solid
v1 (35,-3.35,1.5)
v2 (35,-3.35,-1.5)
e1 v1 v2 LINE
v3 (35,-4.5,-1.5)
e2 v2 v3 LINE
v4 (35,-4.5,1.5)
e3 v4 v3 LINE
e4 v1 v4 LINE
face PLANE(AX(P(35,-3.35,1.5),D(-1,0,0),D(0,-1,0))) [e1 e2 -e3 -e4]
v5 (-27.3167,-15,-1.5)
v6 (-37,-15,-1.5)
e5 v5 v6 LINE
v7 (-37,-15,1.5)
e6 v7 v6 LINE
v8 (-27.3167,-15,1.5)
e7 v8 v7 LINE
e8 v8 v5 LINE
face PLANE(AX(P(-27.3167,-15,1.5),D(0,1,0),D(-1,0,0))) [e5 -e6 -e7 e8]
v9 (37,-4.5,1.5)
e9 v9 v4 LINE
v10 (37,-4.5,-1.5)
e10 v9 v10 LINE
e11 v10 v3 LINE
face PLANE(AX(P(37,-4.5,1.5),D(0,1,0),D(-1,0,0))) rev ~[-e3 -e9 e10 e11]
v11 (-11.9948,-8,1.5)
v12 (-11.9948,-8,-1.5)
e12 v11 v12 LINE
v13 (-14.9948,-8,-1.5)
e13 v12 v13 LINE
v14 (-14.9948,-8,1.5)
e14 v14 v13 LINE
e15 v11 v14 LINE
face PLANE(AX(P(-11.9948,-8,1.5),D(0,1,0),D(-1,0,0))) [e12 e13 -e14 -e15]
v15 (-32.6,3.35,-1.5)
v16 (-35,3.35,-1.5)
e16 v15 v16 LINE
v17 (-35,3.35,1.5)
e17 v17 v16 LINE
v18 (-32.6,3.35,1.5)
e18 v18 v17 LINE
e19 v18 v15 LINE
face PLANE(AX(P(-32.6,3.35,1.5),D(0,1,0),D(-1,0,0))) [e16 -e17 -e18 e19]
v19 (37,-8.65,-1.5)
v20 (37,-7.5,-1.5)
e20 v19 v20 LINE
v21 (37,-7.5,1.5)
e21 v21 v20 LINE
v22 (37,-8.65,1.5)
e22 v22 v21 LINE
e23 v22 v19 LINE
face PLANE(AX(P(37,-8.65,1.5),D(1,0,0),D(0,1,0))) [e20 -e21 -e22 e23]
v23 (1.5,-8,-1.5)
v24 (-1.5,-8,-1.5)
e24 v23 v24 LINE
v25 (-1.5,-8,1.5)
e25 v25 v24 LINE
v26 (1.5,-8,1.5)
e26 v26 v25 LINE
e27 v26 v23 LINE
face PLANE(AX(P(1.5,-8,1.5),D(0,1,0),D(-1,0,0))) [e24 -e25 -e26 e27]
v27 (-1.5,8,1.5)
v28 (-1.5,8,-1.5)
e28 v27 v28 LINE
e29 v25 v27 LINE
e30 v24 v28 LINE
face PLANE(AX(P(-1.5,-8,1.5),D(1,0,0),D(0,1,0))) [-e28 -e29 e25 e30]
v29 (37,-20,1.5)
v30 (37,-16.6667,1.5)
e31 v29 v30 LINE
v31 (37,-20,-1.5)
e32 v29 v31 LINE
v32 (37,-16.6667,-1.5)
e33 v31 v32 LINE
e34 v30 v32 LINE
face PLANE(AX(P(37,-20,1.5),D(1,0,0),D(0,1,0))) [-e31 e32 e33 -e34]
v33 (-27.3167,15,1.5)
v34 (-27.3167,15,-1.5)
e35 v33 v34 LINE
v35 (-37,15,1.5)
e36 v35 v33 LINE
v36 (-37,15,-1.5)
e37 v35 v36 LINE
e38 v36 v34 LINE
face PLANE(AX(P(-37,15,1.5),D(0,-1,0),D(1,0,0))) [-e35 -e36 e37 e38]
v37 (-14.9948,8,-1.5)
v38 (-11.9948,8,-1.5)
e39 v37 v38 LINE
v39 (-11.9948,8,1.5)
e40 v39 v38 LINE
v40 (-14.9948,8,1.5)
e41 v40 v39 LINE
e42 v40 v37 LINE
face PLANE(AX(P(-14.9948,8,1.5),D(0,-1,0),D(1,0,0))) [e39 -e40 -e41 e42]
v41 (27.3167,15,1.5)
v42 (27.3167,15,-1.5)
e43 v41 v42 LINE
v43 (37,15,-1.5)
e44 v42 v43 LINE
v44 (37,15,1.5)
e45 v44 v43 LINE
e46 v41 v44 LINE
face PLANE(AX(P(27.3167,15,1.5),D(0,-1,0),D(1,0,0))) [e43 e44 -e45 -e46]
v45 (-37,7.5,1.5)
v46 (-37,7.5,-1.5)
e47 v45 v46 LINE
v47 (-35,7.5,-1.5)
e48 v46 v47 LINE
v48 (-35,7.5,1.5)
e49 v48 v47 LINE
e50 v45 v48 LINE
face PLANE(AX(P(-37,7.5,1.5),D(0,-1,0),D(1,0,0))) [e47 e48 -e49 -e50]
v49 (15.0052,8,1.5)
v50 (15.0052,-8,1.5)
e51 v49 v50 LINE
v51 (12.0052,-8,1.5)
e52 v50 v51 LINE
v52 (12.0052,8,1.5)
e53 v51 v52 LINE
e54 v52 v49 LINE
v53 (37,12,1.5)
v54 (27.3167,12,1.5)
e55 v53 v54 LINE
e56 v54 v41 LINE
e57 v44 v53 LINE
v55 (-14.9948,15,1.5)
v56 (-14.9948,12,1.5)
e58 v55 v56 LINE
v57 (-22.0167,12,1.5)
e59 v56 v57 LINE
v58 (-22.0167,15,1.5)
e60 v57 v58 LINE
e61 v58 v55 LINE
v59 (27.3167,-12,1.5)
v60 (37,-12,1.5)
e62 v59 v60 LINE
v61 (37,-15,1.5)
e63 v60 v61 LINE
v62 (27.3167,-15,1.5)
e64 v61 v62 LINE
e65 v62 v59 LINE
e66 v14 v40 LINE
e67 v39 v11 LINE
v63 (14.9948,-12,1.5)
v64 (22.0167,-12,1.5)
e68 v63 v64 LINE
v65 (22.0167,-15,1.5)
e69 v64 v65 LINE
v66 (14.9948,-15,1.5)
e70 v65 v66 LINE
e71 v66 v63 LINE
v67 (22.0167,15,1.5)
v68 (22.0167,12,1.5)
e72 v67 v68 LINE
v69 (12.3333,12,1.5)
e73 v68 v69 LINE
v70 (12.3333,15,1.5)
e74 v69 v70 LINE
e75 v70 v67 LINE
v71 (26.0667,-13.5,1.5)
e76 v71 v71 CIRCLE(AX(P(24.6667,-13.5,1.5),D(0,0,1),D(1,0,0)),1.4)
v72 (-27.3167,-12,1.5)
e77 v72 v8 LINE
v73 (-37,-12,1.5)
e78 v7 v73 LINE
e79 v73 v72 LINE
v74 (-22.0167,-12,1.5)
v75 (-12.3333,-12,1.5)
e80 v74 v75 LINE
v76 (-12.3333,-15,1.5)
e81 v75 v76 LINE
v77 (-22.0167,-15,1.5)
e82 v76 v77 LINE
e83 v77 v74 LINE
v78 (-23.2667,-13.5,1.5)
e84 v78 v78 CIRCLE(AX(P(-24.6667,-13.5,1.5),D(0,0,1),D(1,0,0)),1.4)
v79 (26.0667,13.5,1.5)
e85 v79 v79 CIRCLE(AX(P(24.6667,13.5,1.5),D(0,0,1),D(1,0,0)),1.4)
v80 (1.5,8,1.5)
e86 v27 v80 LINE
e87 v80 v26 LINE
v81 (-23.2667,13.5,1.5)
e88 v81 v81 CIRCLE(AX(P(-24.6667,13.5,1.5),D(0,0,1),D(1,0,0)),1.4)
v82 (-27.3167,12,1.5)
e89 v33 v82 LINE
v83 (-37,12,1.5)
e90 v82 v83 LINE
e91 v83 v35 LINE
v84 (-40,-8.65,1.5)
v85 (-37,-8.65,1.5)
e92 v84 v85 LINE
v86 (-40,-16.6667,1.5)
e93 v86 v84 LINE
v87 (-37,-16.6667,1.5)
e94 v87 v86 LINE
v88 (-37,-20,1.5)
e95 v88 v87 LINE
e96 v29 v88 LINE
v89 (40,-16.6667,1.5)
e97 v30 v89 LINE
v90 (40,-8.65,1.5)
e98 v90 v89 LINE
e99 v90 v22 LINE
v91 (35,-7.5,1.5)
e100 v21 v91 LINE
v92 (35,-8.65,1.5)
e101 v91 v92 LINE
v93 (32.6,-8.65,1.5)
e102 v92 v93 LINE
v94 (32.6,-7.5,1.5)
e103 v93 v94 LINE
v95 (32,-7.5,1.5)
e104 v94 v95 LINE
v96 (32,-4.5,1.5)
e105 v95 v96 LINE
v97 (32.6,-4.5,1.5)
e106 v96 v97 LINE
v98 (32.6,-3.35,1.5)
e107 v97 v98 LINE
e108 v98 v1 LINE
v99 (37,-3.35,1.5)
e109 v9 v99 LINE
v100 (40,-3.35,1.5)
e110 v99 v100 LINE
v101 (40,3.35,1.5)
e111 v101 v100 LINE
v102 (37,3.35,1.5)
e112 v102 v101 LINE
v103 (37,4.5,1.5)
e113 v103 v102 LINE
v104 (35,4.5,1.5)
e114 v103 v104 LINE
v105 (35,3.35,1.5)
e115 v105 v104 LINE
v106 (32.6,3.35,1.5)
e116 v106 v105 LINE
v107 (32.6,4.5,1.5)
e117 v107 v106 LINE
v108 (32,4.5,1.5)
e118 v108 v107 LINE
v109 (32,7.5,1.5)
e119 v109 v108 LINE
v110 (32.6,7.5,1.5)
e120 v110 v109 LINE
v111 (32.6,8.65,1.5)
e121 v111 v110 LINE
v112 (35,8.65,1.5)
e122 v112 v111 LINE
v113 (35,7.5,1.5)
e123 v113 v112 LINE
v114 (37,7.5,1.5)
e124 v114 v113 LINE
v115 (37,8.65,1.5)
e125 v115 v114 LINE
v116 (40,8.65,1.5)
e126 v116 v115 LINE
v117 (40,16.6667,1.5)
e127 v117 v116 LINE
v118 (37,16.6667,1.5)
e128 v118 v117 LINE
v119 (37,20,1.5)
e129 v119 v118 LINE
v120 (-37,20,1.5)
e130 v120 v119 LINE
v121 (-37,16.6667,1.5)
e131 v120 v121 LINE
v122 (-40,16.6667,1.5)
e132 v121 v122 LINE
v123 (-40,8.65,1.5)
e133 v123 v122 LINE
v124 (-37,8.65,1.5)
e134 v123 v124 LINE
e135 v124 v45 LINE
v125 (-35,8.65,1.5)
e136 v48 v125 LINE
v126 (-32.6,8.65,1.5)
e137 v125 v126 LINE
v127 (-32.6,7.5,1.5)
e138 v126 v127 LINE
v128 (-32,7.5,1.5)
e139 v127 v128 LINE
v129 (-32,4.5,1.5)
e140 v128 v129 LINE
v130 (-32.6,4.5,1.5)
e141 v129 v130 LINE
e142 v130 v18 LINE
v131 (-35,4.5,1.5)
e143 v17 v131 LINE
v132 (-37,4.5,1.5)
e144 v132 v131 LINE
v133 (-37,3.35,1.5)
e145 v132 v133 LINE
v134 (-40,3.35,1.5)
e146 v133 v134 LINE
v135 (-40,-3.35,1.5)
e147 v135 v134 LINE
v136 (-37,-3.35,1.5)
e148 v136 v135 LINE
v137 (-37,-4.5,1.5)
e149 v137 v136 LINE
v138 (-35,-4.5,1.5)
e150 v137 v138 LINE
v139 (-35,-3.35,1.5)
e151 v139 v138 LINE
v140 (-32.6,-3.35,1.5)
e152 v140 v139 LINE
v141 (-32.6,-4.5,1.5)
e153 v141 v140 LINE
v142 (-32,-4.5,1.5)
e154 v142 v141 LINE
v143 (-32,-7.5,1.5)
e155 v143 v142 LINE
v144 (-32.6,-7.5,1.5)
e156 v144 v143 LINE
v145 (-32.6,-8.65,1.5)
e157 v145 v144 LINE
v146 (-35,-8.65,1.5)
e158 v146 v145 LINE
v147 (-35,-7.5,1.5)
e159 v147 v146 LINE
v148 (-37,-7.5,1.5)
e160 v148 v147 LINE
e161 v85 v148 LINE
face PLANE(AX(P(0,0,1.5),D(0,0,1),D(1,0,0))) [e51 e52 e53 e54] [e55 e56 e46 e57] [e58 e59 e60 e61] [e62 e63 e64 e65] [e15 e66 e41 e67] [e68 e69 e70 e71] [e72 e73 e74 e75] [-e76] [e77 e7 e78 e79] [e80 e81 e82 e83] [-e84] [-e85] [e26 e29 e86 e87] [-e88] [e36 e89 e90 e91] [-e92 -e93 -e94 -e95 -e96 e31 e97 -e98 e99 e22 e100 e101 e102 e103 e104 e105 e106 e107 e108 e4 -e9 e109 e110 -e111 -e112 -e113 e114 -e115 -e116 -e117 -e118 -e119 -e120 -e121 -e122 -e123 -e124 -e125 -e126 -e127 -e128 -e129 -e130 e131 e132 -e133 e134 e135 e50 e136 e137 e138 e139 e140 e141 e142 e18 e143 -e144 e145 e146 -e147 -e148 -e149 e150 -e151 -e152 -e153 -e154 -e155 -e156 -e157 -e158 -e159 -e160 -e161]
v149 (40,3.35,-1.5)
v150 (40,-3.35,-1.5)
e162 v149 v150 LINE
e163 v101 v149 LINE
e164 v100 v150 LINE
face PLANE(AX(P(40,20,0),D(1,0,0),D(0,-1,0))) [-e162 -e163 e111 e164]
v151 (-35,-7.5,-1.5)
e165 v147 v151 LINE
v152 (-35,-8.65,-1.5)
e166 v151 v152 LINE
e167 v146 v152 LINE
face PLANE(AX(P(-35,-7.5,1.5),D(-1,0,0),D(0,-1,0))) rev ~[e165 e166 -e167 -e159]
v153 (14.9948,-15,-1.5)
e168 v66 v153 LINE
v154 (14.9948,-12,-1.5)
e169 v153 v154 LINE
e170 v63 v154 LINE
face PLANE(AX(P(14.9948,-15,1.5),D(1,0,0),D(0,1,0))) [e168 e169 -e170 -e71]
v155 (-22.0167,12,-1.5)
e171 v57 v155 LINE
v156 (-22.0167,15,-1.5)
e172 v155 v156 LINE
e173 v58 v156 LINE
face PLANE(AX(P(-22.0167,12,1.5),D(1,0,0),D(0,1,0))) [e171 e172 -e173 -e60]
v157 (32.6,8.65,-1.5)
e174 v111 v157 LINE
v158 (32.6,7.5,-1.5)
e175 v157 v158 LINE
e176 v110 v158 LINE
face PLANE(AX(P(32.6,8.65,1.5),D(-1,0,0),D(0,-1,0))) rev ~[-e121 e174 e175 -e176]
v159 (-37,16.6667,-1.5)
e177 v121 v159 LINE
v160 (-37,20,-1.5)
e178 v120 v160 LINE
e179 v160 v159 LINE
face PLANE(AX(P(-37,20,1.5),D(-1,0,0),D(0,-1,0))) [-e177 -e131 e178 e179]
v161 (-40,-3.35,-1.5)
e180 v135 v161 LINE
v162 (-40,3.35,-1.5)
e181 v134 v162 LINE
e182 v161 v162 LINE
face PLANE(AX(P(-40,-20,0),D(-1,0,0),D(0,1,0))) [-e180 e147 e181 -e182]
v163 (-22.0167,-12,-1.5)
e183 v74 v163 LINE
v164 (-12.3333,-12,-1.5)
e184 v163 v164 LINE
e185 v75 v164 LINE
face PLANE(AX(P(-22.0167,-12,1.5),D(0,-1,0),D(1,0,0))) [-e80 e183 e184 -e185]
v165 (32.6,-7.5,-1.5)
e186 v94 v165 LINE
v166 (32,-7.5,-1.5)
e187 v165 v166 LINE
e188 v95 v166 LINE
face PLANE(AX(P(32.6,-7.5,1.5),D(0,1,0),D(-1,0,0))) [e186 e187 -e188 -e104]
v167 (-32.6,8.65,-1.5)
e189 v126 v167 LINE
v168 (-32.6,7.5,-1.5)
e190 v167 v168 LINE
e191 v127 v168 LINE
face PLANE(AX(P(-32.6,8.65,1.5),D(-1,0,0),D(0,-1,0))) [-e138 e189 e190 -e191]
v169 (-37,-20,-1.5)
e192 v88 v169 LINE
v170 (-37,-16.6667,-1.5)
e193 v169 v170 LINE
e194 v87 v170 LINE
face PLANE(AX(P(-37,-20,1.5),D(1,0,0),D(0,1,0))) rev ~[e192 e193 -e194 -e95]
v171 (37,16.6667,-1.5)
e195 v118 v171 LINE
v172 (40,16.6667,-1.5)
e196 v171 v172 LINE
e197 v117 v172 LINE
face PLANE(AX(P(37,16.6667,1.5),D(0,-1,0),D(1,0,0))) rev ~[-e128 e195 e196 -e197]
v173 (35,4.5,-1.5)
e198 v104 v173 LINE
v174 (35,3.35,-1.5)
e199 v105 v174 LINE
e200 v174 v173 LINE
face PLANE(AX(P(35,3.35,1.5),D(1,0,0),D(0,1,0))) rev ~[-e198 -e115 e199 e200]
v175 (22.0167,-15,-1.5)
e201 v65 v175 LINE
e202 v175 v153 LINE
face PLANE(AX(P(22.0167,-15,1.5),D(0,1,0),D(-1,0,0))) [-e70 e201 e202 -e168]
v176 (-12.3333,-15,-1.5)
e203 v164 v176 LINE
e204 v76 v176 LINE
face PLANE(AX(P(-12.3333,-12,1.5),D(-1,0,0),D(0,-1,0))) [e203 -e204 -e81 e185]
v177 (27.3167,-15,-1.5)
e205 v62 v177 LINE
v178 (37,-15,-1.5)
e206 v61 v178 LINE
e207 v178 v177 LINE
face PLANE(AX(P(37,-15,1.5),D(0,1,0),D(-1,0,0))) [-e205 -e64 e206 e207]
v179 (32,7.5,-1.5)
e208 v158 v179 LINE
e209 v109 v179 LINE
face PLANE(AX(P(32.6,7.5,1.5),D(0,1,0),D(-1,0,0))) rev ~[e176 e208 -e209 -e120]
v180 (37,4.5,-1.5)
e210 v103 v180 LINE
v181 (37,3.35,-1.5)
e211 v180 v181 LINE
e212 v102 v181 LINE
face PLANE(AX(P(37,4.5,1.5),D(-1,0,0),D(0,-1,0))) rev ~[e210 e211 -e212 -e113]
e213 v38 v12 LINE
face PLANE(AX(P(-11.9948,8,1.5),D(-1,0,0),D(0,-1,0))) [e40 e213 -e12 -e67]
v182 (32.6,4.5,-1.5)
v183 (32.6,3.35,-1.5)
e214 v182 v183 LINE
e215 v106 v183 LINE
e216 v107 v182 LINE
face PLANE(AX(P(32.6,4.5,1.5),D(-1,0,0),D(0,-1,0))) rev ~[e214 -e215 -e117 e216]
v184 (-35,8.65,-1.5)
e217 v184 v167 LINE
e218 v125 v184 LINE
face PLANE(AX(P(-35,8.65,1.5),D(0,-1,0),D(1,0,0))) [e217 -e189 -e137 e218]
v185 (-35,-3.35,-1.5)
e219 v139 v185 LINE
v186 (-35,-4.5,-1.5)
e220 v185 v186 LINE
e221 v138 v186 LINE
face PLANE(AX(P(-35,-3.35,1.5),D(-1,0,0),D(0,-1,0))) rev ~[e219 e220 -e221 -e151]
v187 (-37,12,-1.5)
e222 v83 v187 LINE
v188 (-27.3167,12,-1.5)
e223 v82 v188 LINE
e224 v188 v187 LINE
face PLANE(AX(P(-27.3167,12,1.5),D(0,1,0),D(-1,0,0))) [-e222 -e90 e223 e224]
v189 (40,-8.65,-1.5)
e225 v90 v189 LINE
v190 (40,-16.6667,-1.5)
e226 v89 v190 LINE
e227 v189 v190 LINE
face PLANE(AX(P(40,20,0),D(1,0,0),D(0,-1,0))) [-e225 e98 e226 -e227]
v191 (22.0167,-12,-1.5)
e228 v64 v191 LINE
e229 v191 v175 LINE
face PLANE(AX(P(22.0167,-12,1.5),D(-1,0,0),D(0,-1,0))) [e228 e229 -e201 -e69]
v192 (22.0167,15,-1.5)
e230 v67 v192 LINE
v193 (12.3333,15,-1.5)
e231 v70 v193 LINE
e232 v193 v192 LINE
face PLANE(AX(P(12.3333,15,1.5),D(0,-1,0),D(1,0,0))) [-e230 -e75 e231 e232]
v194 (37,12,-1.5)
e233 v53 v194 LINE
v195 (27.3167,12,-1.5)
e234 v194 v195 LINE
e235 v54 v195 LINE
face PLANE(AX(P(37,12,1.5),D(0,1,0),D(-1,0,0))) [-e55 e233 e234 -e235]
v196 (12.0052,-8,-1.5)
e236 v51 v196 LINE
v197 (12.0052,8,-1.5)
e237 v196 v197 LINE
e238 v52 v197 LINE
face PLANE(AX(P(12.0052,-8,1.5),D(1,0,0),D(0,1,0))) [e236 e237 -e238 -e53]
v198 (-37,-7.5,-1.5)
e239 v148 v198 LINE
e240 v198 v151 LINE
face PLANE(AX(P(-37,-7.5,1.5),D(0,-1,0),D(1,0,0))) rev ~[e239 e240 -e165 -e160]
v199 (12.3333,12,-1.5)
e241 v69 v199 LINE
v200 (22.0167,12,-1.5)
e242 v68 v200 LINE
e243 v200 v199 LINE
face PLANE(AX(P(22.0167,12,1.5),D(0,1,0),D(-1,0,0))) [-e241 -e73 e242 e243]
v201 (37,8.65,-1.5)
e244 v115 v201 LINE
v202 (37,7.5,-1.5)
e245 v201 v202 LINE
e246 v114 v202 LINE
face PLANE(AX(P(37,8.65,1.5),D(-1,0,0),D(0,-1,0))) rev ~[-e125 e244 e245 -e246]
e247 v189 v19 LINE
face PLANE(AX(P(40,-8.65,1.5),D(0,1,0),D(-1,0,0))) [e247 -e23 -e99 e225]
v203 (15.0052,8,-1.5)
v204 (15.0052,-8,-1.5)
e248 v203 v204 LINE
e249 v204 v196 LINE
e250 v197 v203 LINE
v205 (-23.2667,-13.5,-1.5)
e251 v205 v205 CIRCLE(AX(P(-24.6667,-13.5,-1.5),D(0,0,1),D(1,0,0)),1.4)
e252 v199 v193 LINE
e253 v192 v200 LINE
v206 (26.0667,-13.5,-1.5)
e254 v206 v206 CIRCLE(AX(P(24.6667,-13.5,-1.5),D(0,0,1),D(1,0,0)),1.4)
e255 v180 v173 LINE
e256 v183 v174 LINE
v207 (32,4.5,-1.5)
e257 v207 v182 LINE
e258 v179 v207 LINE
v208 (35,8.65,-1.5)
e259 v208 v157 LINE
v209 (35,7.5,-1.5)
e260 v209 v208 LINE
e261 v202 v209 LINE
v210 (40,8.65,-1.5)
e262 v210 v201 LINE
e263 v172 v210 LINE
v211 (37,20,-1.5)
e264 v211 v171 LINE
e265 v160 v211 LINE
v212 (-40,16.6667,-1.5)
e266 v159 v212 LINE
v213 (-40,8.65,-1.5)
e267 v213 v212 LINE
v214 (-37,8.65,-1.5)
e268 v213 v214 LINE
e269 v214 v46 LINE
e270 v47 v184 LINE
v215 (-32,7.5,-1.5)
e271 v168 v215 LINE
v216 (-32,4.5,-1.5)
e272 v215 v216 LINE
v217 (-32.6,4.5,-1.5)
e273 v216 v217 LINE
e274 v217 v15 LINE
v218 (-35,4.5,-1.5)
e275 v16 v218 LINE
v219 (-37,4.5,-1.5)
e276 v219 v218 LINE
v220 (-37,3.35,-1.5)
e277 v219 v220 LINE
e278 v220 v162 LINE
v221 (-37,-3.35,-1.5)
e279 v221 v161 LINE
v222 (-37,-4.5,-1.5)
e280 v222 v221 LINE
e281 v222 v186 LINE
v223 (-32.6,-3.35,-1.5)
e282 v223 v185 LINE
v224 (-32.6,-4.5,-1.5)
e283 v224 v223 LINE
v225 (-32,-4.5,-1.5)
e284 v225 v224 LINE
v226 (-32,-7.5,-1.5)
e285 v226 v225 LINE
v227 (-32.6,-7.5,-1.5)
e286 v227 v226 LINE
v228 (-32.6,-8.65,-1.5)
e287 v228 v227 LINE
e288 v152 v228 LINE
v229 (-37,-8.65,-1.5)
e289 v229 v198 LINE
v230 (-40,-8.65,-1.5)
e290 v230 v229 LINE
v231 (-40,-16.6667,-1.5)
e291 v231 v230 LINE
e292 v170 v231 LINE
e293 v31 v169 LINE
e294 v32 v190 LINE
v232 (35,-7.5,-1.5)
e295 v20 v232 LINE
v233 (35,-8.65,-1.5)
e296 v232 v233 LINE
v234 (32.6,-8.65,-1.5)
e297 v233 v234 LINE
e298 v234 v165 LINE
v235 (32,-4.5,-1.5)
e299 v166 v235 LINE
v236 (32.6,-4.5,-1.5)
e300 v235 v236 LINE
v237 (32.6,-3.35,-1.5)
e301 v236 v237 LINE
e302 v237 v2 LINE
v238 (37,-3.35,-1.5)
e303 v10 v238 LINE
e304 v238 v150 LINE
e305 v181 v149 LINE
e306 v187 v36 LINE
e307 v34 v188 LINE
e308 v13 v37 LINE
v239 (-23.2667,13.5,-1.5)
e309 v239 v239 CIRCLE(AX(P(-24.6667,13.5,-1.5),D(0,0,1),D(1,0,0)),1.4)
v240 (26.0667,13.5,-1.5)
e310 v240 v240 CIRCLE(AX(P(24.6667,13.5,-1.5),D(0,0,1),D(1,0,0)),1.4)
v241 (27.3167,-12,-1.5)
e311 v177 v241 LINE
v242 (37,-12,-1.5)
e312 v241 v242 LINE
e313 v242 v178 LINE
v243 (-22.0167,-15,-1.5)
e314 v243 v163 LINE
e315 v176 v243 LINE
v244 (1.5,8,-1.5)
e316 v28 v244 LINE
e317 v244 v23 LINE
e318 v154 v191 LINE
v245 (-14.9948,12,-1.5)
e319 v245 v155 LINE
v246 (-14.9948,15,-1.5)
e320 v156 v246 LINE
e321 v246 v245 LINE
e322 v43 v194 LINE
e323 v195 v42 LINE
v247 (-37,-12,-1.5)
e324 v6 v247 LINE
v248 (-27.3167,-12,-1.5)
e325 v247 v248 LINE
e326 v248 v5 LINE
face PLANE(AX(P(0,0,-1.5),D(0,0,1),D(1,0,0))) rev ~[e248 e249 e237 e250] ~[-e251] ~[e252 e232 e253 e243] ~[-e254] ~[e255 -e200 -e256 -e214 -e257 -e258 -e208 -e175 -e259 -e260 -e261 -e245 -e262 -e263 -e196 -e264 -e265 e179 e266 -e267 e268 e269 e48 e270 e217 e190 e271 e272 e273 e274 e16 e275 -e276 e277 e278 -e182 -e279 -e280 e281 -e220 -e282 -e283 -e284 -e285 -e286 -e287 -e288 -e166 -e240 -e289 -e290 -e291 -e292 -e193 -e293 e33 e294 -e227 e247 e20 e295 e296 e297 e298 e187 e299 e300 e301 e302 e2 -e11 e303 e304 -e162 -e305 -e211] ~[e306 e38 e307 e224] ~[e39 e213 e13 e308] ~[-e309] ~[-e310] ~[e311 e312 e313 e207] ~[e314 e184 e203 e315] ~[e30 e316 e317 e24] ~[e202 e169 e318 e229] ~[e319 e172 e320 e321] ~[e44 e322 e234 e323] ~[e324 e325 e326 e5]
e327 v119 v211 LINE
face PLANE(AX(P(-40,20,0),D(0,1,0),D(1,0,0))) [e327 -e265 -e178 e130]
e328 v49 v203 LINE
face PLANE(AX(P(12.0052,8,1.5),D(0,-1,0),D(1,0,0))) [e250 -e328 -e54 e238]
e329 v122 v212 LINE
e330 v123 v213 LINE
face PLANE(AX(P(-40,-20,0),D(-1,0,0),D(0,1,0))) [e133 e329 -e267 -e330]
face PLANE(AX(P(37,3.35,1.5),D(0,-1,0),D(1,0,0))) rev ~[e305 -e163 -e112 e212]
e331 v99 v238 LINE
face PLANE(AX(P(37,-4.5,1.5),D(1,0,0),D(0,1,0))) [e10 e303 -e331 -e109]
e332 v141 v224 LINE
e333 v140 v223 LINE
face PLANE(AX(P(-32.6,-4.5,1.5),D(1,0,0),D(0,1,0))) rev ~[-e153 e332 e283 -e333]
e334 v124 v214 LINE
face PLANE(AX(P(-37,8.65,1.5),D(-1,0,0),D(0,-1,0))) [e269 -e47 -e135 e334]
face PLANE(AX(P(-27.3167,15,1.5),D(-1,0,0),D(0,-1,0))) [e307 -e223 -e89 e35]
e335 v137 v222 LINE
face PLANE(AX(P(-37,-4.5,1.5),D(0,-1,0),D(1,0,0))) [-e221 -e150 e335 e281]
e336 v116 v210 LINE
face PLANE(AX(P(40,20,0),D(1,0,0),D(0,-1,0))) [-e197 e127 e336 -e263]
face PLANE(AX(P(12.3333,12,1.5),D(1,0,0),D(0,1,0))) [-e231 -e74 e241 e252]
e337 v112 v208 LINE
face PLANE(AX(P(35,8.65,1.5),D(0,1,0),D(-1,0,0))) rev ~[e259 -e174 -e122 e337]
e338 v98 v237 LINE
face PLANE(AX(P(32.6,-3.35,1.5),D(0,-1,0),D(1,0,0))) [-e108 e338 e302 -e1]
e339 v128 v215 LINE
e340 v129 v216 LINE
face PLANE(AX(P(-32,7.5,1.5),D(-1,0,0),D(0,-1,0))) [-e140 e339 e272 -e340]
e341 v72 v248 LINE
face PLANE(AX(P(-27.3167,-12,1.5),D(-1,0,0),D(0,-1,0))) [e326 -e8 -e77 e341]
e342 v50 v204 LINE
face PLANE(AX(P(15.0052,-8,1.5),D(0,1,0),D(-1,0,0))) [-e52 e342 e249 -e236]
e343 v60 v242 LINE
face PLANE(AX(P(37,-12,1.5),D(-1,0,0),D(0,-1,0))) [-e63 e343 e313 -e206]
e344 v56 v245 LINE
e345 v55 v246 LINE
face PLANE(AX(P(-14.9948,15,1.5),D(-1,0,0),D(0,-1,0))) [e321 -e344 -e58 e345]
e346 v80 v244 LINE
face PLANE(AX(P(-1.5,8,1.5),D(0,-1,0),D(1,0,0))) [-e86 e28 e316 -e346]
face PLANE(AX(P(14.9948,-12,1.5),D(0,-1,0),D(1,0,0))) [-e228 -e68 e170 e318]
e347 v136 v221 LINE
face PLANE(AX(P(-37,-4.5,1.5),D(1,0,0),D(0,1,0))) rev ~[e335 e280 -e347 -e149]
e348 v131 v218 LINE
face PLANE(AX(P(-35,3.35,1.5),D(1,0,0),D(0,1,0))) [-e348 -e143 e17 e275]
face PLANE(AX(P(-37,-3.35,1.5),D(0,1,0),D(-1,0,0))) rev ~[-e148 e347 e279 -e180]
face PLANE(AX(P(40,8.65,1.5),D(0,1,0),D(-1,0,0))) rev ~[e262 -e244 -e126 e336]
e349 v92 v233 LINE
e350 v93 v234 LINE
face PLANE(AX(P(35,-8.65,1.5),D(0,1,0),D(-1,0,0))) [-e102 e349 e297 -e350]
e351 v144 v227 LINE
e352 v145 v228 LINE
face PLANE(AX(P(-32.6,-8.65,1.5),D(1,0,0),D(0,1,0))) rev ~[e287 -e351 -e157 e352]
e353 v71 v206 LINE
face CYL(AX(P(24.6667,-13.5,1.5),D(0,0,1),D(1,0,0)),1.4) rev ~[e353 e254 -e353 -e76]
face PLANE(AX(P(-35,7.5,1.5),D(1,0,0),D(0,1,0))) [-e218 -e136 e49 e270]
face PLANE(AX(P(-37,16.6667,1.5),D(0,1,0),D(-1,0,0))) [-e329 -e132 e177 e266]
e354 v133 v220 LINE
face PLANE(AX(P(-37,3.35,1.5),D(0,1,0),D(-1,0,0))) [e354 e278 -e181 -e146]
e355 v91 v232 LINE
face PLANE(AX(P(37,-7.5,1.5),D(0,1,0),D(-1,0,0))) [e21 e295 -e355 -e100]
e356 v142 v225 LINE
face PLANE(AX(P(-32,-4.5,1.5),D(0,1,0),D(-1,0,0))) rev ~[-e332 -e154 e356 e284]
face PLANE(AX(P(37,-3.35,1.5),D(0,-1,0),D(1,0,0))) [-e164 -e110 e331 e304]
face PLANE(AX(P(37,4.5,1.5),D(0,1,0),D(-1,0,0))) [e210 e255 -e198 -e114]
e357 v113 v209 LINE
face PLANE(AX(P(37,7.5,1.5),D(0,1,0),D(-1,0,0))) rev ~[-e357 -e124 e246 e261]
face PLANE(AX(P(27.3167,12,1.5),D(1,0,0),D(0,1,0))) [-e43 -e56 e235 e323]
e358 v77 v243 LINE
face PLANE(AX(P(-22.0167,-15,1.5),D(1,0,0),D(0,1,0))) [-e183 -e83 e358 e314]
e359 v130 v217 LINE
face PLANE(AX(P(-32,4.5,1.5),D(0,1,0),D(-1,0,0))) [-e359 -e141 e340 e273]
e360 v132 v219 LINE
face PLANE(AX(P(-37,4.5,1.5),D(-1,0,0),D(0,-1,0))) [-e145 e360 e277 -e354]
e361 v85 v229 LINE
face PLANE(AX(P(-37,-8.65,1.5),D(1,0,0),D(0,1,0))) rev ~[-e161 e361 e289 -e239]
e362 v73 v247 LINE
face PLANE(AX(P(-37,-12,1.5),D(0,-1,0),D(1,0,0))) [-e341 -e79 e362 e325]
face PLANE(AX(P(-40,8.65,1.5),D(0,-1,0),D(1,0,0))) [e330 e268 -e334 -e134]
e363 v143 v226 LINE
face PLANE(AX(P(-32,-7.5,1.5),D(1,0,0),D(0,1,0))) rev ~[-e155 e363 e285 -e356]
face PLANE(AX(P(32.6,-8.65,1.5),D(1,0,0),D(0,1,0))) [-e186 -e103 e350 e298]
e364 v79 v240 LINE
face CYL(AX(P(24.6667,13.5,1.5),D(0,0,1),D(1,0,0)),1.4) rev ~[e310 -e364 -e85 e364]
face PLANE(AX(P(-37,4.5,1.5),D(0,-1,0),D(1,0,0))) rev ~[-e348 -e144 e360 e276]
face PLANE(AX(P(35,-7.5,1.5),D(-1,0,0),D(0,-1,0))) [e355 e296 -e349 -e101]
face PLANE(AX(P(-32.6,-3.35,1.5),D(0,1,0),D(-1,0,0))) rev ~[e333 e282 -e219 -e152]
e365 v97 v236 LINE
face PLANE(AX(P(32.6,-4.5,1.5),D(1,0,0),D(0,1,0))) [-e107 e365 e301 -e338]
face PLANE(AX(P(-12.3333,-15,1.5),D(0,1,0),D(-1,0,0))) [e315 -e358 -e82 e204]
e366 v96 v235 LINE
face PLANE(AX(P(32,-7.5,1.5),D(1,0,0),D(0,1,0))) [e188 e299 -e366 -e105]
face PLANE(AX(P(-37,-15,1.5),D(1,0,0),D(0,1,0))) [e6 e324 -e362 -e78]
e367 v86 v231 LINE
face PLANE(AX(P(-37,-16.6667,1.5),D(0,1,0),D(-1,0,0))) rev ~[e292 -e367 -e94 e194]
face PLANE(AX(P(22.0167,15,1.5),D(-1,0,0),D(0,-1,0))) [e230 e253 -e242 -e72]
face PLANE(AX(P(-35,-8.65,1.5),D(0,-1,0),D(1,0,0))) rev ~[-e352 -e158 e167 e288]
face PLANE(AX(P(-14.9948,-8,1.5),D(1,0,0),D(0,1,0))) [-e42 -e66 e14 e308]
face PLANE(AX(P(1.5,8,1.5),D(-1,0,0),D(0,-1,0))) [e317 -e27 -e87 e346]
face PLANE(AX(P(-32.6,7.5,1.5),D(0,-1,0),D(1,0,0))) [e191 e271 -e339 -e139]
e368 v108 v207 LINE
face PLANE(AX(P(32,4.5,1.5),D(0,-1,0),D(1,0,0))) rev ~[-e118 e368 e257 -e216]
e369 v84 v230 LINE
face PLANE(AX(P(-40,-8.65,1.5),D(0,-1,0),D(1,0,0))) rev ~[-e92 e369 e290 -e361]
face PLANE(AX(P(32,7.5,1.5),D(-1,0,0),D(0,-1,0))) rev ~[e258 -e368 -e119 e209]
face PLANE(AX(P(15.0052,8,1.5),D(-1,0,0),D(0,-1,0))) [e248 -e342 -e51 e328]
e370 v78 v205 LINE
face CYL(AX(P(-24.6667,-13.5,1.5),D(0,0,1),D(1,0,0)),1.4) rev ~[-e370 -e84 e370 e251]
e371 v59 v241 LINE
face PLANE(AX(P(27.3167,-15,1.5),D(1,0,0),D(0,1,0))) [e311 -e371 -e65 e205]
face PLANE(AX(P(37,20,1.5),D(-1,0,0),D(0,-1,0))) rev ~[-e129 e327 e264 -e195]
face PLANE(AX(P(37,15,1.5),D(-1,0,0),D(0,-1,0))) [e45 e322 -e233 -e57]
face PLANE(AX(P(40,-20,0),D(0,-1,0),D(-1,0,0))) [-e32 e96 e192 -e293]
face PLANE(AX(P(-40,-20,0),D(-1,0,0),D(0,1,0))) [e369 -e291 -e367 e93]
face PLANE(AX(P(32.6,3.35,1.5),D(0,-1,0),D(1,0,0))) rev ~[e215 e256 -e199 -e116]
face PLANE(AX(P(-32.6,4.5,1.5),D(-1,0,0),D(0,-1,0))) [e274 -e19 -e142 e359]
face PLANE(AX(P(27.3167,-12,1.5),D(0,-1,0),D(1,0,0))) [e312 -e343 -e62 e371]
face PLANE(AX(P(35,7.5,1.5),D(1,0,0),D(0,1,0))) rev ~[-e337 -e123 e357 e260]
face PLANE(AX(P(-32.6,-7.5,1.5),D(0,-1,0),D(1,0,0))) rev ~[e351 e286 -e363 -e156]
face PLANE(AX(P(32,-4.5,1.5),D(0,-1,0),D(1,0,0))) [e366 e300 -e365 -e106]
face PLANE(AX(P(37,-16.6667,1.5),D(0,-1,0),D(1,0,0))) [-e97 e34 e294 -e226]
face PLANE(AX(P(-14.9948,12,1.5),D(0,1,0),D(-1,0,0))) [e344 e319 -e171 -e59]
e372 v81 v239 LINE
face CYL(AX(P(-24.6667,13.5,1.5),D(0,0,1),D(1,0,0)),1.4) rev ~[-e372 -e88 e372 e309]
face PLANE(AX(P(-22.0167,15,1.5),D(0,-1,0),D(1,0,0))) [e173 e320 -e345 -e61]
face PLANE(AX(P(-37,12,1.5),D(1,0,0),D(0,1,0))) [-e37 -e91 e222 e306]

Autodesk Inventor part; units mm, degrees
ref_plane "YZ Plane" through (0, 0, 0) normal (1, 0, 0) x (0, 1, 0)
ref_plane "XZ Plane" through (0, 0, 0) normal (0, 1, 0) x (-1, 0, 0)
ref_plane "XY Plane" through (0, 0, 0) normal (0, 0, 1) x (1, 0, 0)
sketch "Sketch1" plane through (0, 0, 0) normal (0, 0, 1) x (1, 0, 0)
  line L0 (-40, 20) -> (40, 20)
  line L1 (40, 20) -> (40, -20)
  line L2 (40, -20) -> (-40, -20)
  line L3 (-40, -20) -> (-40, 20)
  line L4 (-40, 20) -> (40, -20) construction
  line L5 (40, 20) -> (-40, -20) construction
  point P0 (0, 0)
  dimension "d0" = 80
  dimension "d1" = 40
extrude "Extrusion1" add sketch "Sketch1" along normal mid plane 3
sketch "Sketch3" plane through (0, 0, 1.5) normal (0, 0, 1) x (1, 0, 0)
  line L0 (15.0052, -8) -> (12.0052, -8)
  line L1 (12.0052, -8) -> (12.0052, 8)
  line L2 (12.0052, 8) -> (15.0052, 8)
  line L3 (15.0052, 8) -> (15.0052, -8)
  line L4 (1.5, 8) -> (1.5, -8)
  line L5 (1.5, -8) -> (-1.5, -8)
  line L6 (-1.5, -8) -> (-1.5, 8)
  line L7 (-1.5, 8) -> (1.5, 8)
  line L8 (-11.9948, -8) -> (-14.9948, -8)
  line L9 (-14.9948, -8) -> (-14.9948, 8)
  line L10 (-14.9948, 8) -> (-11.9948, 8)
  line L11 (-11.9948, 8) -> (-11.9948, -8)
  line L12 (-40, -20) -> (40, -20) projected
  line L13 (40, 20) -> (-40, 20) projected
  line L14 (-40, 8.65) -> (-37, 8.65)
  line L15 (-37, 8.65) -> (-37, 7.5)
  line L16 (-37, 3.35) -> (-40, 3.35)
  line L17 (-40, 3.35) -> (-40, 8.65)
  line L18 (-40, 20) -> (-40, -20) projected
  line L19 (-40, 6) -> (-28.4075, 6) construction
  line L20 (-37, 7.5) -> (-35, 7.5)
  line L21 (-35, 7.5) -> (-35, 8.65)
  line L22 (-35, 8.65) -> (-32.6, 8.65)
  line L23 (-32.6, 8.65) -> (-32.6, 7.5)
  line L24 (-32.6, 7.5) -> (-32, 7.5)
  line L25 (-32, 7.5) -> (-32, 4.5)
  line L26 (-32, 4.5) -> (-32.6, 4.5)
  line L27 (-32.6, 4.5) -> (-32.6, 3.35)
  line L28 (-32.6, 3.35) -> (-35, 3.35)
  line L29 (-35, 3.35) -> (-35, 4.5)
  line L30 (-37, 4.5) -> (-35, 4.5)
  line L31 (-37, 4.5) -> (-37, 3.35)
  line L32 (-27.3167, 15) -> (-27.3167, 12)
  line L33 (-27.3167, 12) -> (-37, 12)
  line L34 (-37, 12) -> (-37, 15)
  line L35 (-37, 15) -> (-27.3167, 15)
  line L36 (-22.0167, 12) -> (-22.0167, 15)
  line L37 (-22.0167, 15) -> (-14.9948, 15)
  line L38 (-14.9948, 15) -> (-14.9948, 12)
  line L39 (-14.9948, 12) -> (-22.0167, 12)
  line L40 (27.3167, 12) -> (27.3167, 15)
  line L41 (27.3167, 15) -> (37, 15)
  line L42 (37, 15) -> (37, 12)
  line L43 (37, 12) -> (27.3167, 12)
  line L44 (22.0167, 15) -> (22.0167, 12)
  line L45 (22.0167, 12) -> (12.3333, 12)
  line L46 (12.3333, 12) -> (12.3333, 15)
  line L47 (12.3333, 15) -> (22.0167, 15)
  line L48 (27.3167, -15) -> (27.3167, -12)
  line L49 (27.3167, -12) -> (37, -12)
  line L50 (37, -12) -> (37, -15)
  line L51 (37, -15) -> (27.3167, -15)
  line L52 (22.0167, -12) -> (22.0167, -15)
  line L53 (22.0167, -15) -> (14.9948, -15)
  line L54 (14.9948, -15) -> (14.9948, -12)
  line L55 (14.9948, -12) -> (22.0167, -12)
  line L56 (-27.3167, -12) -> (-27.3167, -15)
  line L57 (-27.3167, -15) -> (-37, -15)
  line L58 (-37, -15) -> (-37, -12)
  line L59 (-37, -12) -> (-27.3167, -12)
  line L60 (-22.0167, -15) -> (-22.0167, -12)
  line L61 (-22.0167, -12) -> (-12.3333, -12)
  line L62 (-12.3333, -12) -> (-12.3333, -15)
  line L63 (-12.3333, -15) -> (-22.0167, -15)
  line L64 (-40, 20) -> (-37, 20)
  line L65 (-37, 20) -> (-37, 16.6667)
  line L66 (-37, 16.6667) -> (-40, 16.6667)
  line L67 (-40, 16.6667) -> (-40, 20)
  line L68 (-56.6135, 0) -> (53.1995, 0) construction
  line L69 (0, 37.0624) -> (0, -26.1921) construction
  line L70 (-40, -8.65) -> (-37, -8.65)
  line L71 (-37, -8.65) -> (-37, -7.5)
  line L72 (-37, -3.35) -> (-40, -3.35)
  line L73 (-40, -3.35) -> (-40, -8.65)
  line L74 (-37, -7.5) -> (-35, -7.5)
  line L75 (-35, -7.5) -> (-35, -8.65)
  line L76 (-35, -8.65) -> (-32.6, -8.65)
  line L77 (-32.6, -8.65) -> (-32.6, -7.5)
  line L78 (-32.6, -7.5) -> (-32, -7.5)
  line L79 (-32, -7.5) -> (-32, -4.5)
  line L80 (-32, -4.5) -> (-32.6, -4.5)
  line L81 (-32.6, -4.5) -> (-32.6, -3.35)
  line L82 (-32.6, -3.35) -> (-35, -3.35)
  line L83 (-35, -3.35) -> (-35, -4.5)
  line L84 (-37, -4.5) -> (-35, -4.5)
  line L85 (-37, -4.5) -> (-37, -3.35)
  line L86 (-40, -20) -> (-37, -20)
  line L87 (-37, -20) -> (-37, -16.6667)
  line L88 (-37, -16.6667) -> (-40, -16.6667)
  line L89 (-40, -16.6667) -> (-40, -20)
  line L90 (40, 8.65) -> (37, 8.65)
  line L91 (37, 8.65) -> (37, 7.5)
  line L92 (37, 3.35) -> (40, 3.35)
  line L93 (40, 3.35) -> (40, 8.65)
  line L94 (37, 7.5) -> (35, 7.5)
  line L95 (35, 7.5) -> (35, 8.65)
  line L96 (35, 8.65) -> (32.6, 8.65)
  line L97 (32.6, 8.65) -> (32.6, 7.5)
  line L98 (32.6, 7.5) -> (32, 7.5)
  line L99 (32, 7.5) -> (32, 4.5)
  line L100 (32, 4.5) -> (32.6, 4.5)
  line L101 (32.6, 4.5) -> (32.6, 3.35)
  line L102 (32.6, 3.35) -> (35, 3.35)
  line L103 (35, 3.35) -> (35, 4.5)
  line L104 (37, 4.5) -> (35, 4.5)
  line L105 (37, 4.5) -> (37, 3.35)
  line L106 (40, 20) -> (37, 20)
  line L107 (37, 20) -> (37, 16.6667)
  line L108 (37, 16.6667) -> (40, 16.6667)
  line L109 (40, 16.6667) -> (40, 20)
  line L110 (40, -20) -> (37, -20)
  line L111 (37, -20) -> (37, -16.6667)
  line L112 (37, -16.6667) -> (40, -16.6667)
  line L113 (40, -16.6667) -> (40, -20)
  line L114 (40, -8.65) -> (37, -8.65)
  line L115 (37, -8.65) -> (37, -7.5)
  line L116 (37, -7.5) -> (35, -7.5)
  line L117 (35, -7.5) -> (35, -8.65)
  line L118 (35, -8.65) -> (32.6, -8.65)
  line L119 (32.6, -8.65) -> (32.6, -7.5)
  line L120 (32.6, -7.5) -> (32, -7.5)
  line L121 (32, -7.5) -> (32, -4.5)
  line L122 (32, -4.5) -> (32.6, -4.5)
  line L123 (32.6, -4.5) -> (32.6, -3.35)
  line L124 (32.6, -3.35) -> (35, -3.35)
  line L125 (35, -3.35) -> (35, -4.5)
  line L126 (37, -4.5) -> (35, -4.5)
  line L127 (37, -4.5) -> (37, -3.35)
  line L128 (37, -3.35) -> (40, -3.35)
  line L129 (40, -3.35) -> (40, -8.65)
  line L130 (-24.6667, 17.1569) -> (-24.6667, 10.3686) construction
  circle A0 centre (-24.6667, 13.5) radius 1.4
  circle A1 centre (-24.6667, -13.5) radius 1.4
  circle A2 centre (24.6667, 13.5) radius 1.4
  circle A3 centre (24.6667, -13.5) radius 1.4
  point P0 (0, 0)
  dimension "d5" = 40
  dimension "d6" = 3
  dimension "d9" = 3
  dimension "d10" = 8
  dimension "d11" = 5
  dimension "d12" = 2.4
  dimension "d13" = 5.3
  dimension "d14" = 5
  dimension "d16" = 1.6667
  dimension "d17" = 12
  dimension "d18" = 6
  dimension "d21" = 5.3
  dimension "d22" = 2.65
  dimension "d23" = 2.8
extrude "Extrusion2" cut sketch "Sketch3" against normal blind 3
equation "\"d16\" = 0.333333 * d14"
equation "\"d18\" = 0.5 * d17"
equation "\"d22\" = 0.5 * d21"
properties part number "Camera-Holder_Side"
